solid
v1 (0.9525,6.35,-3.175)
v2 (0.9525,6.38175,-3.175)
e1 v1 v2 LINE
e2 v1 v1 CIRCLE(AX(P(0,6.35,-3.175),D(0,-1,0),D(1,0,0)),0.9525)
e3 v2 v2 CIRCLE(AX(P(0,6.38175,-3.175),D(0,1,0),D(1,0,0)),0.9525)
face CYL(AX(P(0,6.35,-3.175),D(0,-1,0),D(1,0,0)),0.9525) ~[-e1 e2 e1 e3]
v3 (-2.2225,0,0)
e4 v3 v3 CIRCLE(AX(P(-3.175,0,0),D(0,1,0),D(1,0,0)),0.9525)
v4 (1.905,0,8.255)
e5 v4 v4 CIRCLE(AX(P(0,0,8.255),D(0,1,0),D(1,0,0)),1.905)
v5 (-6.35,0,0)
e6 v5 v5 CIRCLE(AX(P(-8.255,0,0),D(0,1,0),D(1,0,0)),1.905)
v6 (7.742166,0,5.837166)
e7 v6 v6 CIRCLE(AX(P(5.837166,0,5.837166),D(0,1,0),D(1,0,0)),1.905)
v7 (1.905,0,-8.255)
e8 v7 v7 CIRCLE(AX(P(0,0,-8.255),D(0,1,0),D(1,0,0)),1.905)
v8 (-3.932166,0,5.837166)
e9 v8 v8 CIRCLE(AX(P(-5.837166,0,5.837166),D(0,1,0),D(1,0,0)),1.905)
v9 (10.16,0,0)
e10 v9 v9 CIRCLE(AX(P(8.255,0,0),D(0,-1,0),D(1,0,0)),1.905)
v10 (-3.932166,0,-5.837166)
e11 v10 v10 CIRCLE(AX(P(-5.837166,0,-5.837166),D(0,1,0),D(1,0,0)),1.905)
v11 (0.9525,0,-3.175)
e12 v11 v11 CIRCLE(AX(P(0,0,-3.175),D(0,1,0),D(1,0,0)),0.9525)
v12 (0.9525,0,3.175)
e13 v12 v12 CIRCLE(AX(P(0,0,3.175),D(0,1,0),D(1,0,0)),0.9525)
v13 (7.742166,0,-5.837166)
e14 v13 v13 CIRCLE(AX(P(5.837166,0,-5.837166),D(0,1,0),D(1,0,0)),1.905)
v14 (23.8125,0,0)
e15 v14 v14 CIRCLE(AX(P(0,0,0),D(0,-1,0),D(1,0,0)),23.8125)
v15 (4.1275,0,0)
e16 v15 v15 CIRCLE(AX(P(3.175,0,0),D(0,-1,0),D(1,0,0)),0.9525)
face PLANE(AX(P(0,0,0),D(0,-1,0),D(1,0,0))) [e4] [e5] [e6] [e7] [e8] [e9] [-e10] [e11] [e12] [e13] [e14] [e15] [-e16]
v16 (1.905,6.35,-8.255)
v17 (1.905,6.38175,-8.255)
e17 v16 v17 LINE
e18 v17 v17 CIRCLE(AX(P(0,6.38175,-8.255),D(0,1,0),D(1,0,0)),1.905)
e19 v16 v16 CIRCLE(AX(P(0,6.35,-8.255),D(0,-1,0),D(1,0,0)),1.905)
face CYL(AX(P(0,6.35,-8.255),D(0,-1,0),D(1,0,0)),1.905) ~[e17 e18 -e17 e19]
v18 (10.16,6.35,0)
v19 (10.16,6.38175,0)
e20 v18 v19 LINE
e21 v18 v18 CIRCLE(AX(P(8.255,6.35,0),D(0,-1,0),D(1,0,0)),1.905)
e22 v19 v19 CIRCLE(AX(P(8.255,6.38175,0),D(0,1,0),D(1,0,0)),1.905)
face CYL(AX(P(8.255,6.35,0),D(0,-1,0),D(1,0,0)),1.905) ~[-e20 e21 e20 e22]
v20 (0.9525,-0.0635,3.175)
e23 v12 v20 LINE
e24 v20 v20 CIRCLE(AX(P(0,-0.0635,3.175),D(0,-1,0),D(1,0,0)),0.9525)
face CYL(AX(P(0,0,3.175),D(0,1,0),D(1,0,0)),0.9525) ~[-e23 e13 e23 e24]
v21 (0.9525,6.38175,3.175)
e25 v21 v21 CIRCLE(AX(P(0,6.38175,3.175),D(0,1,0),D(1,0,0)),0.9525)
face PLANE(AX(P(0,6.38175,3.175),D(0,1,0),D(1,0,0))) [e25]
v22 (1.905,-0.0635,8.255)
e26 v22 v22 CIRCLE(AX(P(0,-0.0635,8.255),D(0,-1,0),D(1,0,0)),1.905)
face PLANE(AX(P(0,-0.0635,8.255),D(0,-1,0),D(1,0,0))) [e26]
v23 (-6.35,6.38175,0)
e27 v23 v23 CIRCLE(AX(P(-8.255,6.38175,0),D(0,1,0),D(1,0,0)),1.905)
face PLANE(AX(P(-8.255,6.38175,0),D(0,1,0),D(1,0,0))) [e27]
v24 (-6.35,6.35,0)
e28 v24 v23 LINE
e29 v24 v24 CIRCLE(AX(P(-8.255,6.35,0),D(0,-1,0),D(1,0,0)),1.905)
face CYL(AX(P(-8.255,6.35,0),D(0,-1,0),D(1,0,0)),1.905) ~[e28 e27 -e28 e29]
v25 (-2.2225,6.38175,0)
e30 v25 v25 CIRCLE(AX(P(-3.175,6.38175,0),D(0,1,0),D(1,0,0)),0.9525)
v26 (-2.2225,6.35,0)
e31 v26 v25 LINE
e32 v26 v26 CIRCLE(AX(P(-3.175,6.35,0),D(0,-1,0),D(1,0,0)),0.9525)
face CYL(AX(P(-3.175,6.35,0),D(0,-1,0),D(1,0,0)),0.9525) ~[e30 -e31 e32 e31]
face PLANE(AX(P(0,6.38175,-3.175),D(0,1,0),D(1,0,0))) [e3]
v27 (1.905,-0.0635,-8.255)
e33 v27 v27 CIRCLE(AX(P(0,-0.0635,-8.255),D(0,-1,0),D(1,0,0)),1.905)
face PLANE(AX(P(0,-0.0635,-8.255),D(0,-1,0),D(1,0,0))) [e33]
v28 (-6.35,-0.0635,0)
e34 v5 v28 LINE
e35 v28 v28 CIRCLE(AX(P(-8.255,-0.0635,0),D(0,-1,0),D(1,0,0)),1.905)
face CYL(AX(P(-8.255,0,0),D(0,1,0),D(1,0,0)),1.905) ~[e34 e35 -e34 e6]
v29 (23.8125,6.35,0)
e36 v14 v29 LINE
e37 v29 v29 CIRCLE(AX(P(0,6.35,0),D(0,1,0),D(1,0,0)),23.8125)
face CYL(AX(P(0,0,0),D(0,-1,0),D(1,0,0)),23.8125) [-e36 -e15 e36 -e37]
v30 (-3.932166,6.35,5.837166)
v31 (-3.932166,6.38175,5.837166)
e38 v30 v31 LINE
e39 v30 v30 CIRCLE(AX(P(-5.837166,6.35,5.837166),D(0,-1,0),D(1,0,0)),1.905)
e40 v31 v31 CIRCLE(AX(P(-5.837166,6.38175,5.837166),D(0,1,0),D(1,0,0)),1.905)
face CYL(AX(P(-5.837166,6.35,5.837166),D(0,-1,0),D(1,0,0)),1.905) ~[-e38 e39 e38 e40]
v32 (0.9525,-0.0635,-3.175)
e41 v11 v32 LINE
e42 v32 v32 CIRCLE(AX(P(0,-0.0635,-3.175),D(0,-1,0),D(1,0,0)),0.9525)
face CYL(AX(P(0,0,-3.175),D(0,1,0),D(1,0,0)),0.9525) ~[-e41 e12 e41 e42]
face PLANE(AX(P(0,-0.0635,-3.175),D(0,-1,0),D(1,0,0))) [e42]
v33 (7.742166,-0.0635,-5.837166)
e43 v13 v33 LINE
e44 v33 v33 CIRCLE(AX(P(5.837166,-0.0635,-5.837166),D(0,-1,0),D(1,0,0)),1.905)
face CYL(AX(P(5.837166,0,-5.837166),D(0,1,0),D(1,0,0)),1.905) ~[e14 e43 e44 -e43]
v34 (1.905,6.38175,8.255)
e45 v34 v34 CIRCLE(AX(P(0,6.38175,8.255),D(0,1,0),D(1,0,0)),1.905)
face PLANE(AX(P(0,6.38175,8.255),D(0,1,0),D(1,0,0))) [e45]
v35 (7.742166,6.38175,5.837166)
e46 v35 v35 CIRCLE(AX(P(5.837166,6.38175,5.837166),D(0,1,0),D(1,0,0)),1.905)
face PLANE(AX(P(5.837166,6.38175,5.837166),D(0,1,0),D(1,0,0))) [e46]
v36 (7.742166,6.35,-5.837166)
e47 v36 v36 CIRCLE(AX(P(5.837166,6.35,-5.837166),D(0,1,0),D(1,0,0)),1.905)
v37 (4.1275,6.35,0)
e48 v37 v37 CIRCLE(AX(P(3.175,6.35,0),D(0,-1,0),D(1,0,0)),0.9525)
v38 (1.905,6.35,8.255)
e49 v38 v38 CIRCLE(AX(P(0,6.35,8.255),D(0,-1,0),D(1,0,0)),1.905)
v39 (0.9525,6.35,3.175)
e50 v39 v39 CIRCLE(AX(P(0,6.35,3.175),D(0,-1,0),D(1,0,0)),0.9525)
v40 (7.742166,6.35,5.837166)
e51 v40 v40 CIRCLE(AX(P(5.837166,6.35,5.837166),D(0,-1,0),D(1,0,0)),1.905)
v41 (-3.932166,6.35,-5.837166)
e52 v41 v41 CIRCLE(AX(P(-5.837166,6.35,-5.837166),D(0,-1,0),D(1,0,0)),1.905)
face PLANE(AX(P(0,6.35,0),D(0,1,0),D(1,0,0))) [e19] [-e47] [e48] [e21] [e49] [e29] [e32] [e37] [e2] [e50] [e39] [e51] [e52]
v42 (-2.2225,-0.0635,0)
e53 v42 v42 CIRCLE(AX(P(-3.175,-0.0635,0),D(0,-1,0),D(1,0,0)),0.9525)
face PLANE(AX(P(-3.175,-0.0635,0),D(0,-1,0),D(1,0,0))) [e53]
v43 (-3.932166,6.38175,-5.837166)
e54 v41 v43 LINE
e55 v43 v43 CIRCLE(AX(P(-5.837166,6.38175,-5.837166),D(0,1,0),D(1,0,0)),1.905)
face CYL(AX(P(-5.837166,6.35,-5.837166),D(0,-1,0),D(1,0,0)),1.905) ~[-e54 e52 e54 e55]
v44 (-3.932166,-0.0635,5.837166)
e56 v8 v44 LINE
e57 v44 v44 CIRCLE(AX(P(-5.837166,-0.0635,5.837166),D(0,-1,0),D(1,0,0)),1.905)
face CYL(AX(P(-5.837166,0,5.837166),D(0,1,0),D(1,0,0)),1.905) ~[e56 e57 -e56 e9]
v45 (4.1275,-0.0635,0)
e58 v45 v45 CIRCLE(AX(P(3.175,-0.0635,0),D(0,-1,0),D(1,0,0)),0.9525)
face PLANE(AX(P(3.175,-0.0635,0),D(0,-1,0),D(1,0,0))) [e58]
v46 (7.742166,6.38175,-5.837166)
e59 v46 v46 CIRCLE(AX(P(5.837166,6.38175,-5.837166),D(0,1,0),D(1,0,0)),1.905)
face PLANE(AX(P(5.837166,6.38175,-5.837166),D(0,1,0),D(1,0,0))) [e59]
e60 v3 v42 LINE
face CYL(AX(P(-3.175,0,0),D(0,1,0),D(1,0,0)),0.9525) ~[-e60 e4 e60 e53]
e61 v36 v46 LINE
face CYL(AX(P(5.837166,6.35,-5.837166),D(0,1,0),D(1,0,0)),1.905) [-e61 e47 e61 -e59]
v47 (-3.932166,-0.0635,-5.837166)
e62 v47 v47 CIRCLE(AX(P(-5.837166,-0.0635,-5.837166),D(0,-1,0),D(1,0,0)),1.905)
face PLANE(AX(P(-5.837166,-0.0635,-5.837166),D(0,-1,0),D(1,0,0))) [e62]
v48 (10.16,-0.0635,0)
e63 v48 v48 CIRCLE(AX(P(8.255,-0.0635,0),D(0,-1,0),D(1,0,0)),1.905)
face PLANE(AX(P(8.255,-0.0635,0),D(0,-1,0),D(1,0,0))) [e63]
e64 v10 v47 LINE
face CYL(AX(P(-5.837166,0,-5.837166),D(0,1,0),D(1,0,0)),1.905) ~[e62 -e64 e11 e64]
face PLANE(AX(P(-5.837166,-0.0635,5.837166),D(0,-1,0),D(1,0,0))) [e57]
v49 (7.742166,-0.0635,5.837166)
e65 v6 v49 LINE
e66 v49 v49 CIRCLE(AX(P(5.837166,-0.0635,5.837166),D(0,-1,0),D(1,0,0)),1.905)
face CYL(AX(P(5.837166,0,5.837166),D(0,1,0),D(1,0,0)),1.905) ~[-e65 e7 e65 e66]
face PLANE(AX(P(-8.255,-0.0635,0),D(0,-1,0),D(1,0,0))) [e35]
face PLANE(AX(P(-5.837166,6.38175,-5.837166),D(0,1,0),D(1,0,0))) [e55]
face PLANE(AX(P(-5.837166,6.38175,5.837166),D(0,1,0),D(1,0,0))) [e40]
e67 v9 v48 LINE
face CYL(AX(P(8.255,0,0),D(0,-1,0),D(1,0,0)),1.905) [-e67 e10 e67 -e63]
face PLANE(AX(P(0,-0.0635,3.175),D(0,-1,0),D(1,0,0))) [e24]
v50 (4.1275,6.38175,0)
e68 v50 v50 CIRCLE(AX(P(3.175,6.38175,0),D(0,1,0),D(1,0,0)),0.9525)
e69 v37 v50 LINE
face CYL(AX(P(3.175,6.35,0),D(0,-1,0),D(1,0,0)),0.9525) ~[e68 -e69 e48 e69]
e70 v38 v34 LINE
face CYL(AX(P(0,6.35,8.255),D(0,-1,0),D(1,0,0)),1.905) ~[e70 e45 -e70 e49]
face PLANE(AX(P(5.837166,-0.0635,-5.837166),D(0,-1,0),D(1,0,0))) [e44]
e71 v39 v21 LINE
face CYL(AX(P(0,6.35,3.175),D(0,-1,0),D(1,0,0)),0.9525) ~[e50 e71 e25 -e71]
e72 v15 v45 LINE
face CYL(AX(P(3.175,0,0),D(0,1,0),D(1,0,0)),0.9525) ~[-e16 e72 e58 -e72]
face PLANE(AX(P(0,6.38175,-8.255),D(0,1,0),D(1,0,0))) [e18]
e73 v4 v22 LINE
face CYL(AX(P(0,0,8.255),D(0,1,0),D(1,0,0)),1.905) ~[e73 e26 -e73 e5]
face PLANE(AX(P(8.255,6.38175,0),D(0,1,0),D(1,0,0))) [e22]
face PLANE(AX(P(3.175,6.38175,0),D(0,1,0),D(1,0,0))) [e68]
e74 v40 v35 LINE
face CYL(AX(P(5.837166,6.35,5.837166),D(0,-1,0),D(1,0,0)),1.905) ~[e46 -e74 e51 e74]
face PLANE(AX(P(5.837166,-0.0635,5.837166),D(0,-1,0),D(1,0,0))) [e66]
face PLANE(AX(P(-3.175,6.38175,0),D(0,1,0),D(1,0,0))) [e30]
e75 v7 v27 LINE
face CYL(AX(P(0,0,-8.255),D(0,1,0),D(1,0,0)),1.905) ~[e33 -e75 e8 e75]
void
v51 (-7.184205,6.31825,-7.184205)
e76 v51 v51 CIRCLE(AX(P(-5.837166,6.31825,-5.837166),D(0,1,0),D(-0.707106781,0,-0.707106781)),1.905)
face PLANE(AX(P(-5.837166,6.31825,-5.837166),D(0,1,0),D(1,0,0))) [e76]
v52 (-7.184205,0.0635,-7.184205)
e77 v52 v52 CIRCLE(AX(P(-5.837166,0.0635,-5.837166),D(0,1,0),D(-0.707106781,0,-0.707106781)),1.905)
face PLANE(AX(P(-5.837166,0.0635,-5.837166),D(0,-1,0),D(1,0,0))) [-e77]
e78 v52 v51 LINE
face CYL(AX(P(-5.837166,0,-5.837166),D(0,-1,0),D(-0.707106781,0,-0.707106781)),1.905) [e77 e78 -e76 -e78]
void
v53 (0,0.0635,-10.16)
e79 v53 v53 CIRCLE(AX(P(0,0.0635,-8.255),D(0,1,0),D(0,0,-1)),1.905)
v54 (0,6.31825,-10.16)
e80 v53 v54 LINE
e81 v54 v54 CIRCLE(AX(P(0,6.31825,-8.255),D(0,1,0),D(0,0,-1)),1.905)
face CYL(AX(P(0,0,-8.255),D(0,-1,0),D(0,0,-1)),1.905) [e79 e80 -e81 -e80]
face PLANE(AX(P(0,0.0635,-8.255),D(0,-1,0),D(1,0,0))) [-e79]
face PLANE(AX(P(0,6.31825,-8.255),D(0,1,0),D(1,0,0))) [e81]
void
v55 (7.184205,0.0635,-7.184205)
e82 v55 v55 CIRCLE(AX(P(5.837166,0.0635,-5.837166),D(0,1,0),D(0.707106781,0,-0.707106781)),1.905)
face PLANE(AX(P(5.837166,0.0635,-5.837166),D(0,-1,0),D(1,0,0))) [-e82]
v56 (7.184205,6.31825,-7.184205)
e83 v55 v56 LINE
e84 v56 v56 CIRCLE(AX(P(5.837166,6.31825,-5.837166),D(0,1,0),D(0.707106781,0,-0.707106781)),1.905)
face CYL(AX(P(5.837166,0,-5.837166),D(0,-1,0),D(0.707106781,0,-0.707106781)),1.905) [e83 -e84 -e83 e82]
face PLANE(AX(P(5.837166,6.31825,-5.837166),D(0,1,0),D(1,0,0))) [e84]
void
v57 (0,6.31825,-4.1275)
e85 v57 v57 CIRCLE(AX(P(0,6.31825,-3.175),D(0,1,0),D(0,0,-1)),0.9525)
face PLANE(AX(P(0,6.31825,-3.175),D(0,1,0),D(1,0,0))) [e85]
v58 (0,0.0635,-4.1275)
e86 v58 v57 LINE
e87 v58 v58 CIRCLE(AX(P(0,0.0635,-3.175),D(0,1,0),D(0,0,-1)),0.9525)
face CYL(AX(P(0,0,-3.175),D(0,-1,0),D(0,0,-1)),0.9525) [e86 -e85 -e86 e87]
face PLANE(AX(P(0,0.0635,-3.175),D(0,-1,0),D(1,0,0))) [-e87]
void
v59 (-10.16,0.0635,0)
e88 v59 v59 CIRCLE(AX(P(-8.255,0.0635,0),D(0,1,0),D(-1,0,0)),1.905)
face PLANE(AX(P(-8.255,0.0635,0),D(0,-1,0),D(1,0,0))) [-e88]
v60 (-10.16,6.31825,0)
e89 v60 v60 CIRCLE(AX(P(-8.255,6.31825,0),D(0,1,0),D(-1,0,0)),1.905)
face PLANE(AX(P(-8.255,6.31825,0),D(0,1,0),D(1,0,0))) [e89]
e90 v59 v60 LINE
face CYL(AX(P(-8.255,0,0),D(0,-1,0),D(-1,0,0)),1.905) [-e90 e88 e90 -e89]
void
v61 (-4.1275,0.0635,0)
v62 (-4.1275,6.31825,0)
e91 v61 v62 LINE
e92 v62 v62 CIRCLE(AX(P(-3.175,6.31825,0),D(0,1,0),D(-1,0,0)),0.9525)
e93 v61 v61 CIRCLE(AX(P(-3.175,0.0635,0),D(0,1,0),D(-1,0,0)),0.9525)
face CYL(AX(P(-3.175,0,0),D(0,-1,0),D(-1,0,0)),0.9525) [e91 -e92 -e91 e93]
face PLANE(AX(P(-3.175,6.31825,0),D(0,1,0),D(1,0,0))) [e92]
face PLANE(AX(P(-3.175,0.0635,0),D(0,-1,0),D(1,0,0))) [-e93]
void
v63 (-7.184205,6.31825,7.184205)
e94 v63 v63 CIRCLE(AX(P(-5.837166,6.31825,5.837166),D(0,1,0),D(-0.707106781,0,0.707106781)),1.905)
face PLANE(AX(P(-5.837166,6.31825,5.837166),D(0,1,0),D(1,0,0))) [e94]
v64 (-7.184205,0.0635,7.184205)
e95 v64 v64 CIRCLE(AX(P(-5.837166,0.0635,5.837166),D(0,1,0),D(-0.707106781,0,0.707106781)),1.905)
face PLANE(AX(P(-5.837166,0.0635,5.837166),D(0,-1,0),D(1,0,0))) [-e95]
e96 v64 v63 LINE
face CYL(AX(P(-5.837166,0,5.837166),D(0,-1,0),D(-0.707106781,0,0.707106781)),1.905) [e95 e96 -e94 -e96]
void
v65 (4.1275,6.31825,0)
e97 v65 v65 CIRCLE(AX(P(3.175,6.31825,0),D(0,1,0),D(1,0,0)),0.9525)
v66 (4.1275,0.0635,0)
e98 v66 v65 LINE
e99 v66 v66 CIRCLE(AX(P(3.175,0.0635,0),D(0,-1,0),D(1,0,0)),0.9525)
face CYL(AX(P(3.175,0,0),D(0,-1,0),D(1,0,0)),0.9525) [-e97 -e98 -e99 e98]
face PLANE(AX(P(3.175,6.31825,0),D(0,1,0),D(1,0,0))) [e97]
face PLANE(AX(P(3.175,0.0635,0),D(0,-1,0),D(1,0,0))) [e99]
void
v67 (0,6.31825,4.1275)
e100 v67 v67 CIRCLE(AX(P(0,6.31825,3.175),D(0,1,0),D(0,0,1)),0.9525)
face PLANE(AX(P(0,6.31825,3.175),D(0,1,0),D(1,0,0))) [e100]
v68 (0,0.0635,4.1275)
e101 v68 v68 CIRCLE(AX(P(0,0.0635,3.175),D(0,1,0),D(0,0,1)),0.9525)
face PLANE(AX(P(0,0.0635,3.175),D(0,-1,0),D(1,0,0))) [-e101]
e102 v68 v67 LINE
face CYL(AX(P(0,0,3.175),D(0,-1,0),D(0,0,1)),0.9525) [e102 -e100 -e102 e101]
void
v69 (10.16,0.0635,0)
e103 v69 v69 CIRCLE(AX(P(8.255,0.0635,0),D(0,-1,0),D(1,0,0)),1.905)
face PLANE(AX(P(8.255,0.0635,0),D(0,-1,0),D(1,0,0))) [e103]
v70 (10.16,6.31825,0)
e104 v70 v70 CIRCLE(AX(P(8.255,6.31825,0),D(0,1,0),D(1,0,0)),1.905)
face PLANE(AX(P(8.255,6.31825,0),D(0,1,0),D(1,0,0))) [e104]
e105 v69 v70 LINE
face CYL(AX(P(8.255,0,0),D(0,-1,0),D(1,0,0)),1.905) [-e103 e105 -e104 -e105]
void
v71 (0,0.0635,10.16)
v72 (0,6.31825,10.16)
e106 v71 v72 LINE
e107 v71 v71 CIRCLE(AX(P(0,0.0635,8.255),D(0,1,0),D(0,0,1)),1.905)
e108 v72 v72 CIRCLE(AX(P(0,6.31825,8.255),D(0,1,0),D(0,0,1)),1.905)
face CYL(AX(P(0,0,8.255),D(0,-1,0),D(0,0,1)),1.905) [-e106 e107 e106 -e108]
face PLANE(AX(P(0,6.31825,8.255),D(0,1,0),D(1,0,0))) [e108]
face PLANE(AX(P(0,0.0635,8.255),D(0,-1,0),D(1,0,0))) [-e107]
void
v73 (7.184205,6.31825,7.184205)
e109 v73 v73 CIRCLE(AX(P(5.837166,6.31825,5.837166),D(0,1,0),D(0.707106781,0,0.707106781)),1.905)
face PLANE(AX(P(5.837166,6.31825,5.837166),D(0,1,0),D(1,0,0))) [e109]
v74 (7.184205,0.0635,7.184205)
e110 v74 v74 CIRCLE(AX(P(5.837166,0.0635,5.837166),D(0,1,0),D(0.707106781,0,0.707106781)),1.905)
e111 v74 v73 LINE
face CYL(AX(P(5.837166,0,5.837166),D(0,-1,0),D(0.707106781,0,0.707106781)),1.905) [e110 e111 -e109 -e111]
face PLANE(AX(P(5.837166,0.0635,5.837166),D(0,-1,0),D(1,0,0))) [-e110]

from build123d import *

# Parameters (mm, degrees)
SKETCH1_R           = 50.8
BOSS_EXTRUDE1_DEPTH = 25.4
SKETCH2_R           = 69.85
SKETCH2_R_2         = 50.8
BOSS_EXTRUDE2_DEPTH = 12.7
SKETCH3_R           = 49.53
SKETCH3_R_2         = 47.625
CUT_EXTRUDE1_DEPTH  = 1.1176
CUT_EXTRUDE2_REACH  = 103.996
SKETCH4_R           = 3.175
SKETCH5_R           = 11.43
CUT_EXTRUDE3_DEPTH  = 19.05
SKETCH42_OUTSIDE_W  = 181.538
SKETCH42_OUTSIDE_H  = 181.538
SKETCH42_OUTSIDE_R  = 23.8125
CUT_EXTRUDE9_DEPTH  = 30.48
SKETCH43_R          = 20.6375
CUT_EXTRUDE10_DEPTH = 19.05
CUT_EXTRUDE11_START = -19.05
SKETCH52_R          = 23.8125
CUT_EXTRUDE11_DEPTH = 19.05
SKETCH55_R          = 1.905
CUT_EXTRUDE12_DEPTH = 7.62
CIRPATTERN1_COUNT   = 8
SKETCH58_R          = 0.9525
CUT_EXTRUDE14_DEPTH = 7.62
CIRPATTERN2_COUNT   = 4
SKETCH59_R          = 0.9525
SKETCH59_R_2        = 1.905
INLET_LID_DEPTH     = 0.03175
SKETCH60_R          = 0.9525
SKETCH60_R_2        = 1.905
OUTLET_LID_DEPTH    = 0.0635


with BuildPart() as part:
    # Sketch1 → Boss-Extrude1 (new body)
    with BuildSketch(Plane(origin=(0, 0, 0), x_dir=(1, 0, 0), z_dir=(0, 1, 0))):
        Circle(SKETCH1_R)
    extrude(amount=BOSS_EXTRUDE1_DEPTH)

    # Sketch2 → Boss-Extrude2 (add)
    with BuildSketch(Plane.XZ):
        Circle(SKETCH2_R)
        Circle(SKETCH2_R_2, mode=Mode.SUBTRACT)
    extrude(amount=-BOSS_EXTRUDE2_DEPTH)

    # Sketch3 → Cut-Extrude1 (cut)
    with BuildSketch(Plane.XZ):
        Circle(SKETCH3_R)
        Circle(SKETCH3_R_2, mode=Mode.SUBTRACT)
    extrude(amount=-CUT_EXTRUDE1_DEPTH, mode=Mode.SUBTRACT)

    # Sketch4 → Cut-Extrude2 (cut, up to next)
    with BuildSketch(Plane.XZ, mode=Mode.PRIVATE) as cut_extrude2_sk1:
        with Locations((0, -59.9186)):
            Circle(SKETCH4_R)
    cut_extrude2_tool1 = extrude(cut_extrude2_sk1.sketch, amount=-CUT_EXTRUDE2_REACH, mode=Mode.PRIVATE) & part.part
    # Sketch4 → Cut-Extrude2 (cut, up to next)
    with BuildSketch(Plane.XZ, mode=Mode.PRIVATE) as cut_extrude2_sk2:
        with Locations((-42.368848379, -42.368848379)):
            Circle(SKETCH4_R)
    cut_extrude2_tool2 = extrude(cut_extrude2_sk2.sketch, amount=-CUT_EXTRUDE2_REACH, mode=Mode.PRIVATE) & part.part
    # Sketch4 → Cut-Extrude2 (cut, up to next)
    with BuildSketch(Plane.XZ, mode=Mode.PRIVATE) as cut_extrude2_sk3:
        with Locations((-59.9186, 0)):
            Circle(SKETCH4_R)
    cut_extrude2_tool3 = extrude(cut_extrude2_sk3.sketch, amount=-CUT_EXTRUDE2_REACH, mode=Mode.PRIVATE) & part.part
    # Sketch4 → Cut-Extrude2 (cut, up to next)
    with BuildSketch(Plane.XZ, mode=Mode.PRIVATE) as cut_extrude2_sk4:
        with Locations((-42.368848379, 42.368848379)):
            Circle(SKETCH4_R)
    cut_extrude2_tool4 = extrude(cut_extrude2_sk4.sketch, amount=-CUT_EXTRUDE2_REACH, mode=Mode.PRIVATE) & part.part
    # Sketch4 → Cut-Extrude2 (cut, up to next)
    with BuildSketch(Plane.XZ, mode=Mode.PRIVATE) as cut_extrude2_sk5:
        with Locations((0, 59.9186)):
            Circle(SKETCH4_R)
    cut_extrude2_tool5 = extrude(cut_extrude2_sk5.sketch, amount=-CUT_EXTRUDE2_REACH, mode=Mode.PRIVATE) & part.part
    # Sketch4 → Cut-Extrude2 (cut, up to next)
    with BuildSketch(Plane.XZ, mode=Mode.PRIVATE) as cut_extrude2_sk6:
        with Locations((42.368848379, 42.368848379)):
            Circle(SKETCH4_R)
    cut_extrude2_tool6 = extrude(cut_extrude2_sk6.sketch, amount=-CUT_EXTRUDE2_REACH, mode=Mode.PRIVATE) & part.part
    # Sketch4 → Cut-Extrude2 (cut, up to next)
    with BuildSketch(Plane.XZ, mode=Mode.PRIVATE) as cut_extrude2_sk7:
        with Locations((59.9186, 0)):
            Circle(SKETCH4_R)
    cut_extrude2_tool7 = extrude(cut_extrude2_sk7.sketch, amount=-CUT_EXTRUDE2_REACH, mode=Mode.PRIVATE) & part.part
    # Sketch4 → Cut-Extrude2 (cut, up to next)
    with BuildSketch(Plane.XZ, mode=Mode.PRIVATE) as cut_extrude2_sk8:
        with Locations((42.368848379, -42.368848379)):
            Circle(SKETCH4_R)
    cut_extrude2_tool8 = extrude(cut_extrude2_sk8.sketch, amount=-CUT_EXTRUDE2_REACH, mode=Mode.PRIVATE) & part.part
    add(cut_extrude2_tool1.solids().sort_by_distance((0, 0, -59.9186))[0], mode=Mode.SUBTRACT)
    add(cut_extrude2_tool2.solids().sort_by_distance((-42.368848, 0, -42.368848))[0], mode=Mode.SUBTRACT)
    add(cut_extrude2_tool3.solids().sort_by_distance((-59.9186, 0, 0))[0], mode=Mode.SUBTRACT)
    add(cut_extrude2_tool4.solids().sort_by_distance((-42.368848, 0, 42.368848))[0], mode=Mode.SUBTRACT)
    add(cut_extrude2_tool5.solids().sort_by_distance((0, 0, 59.9186))[0], mode=Mode.SUBTRACT)
    add(cut_extrude2_tool6.solids().sort_by_distance((42.368848, 0, 42.368848))[0], mode=Mode.SUBTRACT)
    add(cut_extrude2_tool7.solids().sort_by_distance((59.9186, 0, 0))[0], mode=Mode.SUBTRACT)
    add(cut_extrude2_tool8.solids().sort_by_distance((42.368848, 0, -42.368848))[0], mode=Mode.SUBTRACT)

    # Sketch5 → Cut-Extrude3 (cut)
    with BuildSketch(Plane(origin=(0, 25.4, 0), x_dir=(1, 0, 0), z_dir=(0, 1, 0))):
        Circle(SKETCH5_R)
    extrude(amount=-CUT_EXTRUDE3_DEPTH, mode=Mode.SUBTRACT)

    # Sketch42 outside → Cut-Extrude9 (cut)
    with BuildSketch(Plane.XZ):
        Rectangle(SKETCH42_OUTSIDE_W, SKETCH42_OUTSIDE_H)
        Circle(SKETCH42_OUTSIDE_R, mode=Mode.SUBTRACT)
    extrude(amount=-CUT_EXTRUDE9_DEPTH, mode=Mode.SUBTRACT)

    # Sketch43 → Cut-Extrude10 (cut)
    with BuildSketch(Plane(origin=(0, 25.4, 0), x_dir=(1, 0, 0), z_dir=(0, 1, 0))):
        Circle(SKETCH43_R)
    extrude(amount=-CUT_EXTRUDE10_DEPTH, mode=Mode.SUBTRACT)

    # Sketch52 → Cut-Extrude11 (cut)
    with BuildSketch(Plane(origin=(0, 25.4, 0), x_dir=(1, 0, 0), z_dir=(0, 1, 0)).offset(CUT_EXTRUDE11_START)):
        Circle(SKETCH52_R)
    extrude(amount=CUT_EXTRUDE11_DEPTH, mode=Mode.SUBTRACT)

    # Sketch55 → Cut-Extrude12 (cut)
    with BuildSketch(Plane.XZ):
        with Locations((8.255, 0)):
            Circle(SKETCH55_R)
    cut_extrude12 = extrude(amount=-CUT_EXTRUDE12_DEPTH, mode=Mode.SUBTRACT)

    # CirPattern1: Cut-Extrude12 ×8 about axis
    cirpattern1_axis = Axis((0, 0, 0), (0, -1, 0))
    for i in range(1, CIRPATTERN1_COUNT):
        add(cut_extrude12.rotate(cirpattern1_axis, i * 360 / CIRPATTERN1_COUNT), mode=Mode.SUBTRACT)

    # Sketch58 → Cut-Extrude14 (cut)
    with BuildSketch(Plane.XZ):
        with Locations((3.175, 0)):
            Circle(SKETCH58_R)
    cut_extrude14 = extrude(amount=-CUT_EXTRUDE14_DEPTH, mode=Mode.SUBTRACT)

    # CirPattern2: Cut-Extrude14 ×4 about axis
    cirpattern2_axis = Axis((0, 0, 0), (0, -1, 0))
    for i in range(1, CIRPATTERN2_COUNT):
        add(cut_extrude14.rotate(cirpattern2_axis, i * 360 / CIRPATTERN2_COUNT), mode=Mode.SUBTRACT)

    # Sketch59 → Inlet Lid (add, symmetric)
    with BuildSketch(Plane(origin=(0, 6.35, 0), x_dir=(1, 0, 0), z_dir=(0, 1, 0))):
        with Locations((0, -3.175)):
            Circle(SKETCH59_R)
        with Locations((-3.175, 0)):
            Circle(SKETCH59_R)
        with Locations((0, 3.175)):
            Circle(SKETCH59_R)
        with Locations((3.175, 0)):
            Circle(SKETCH59_R)
        with Locations((0, 8.255)):
            Circle(SKETCH59_R_2)
        with Locations((-5.837166479, 5.837166479)):
            Circle(SKETCH59_R_2)
        with Locations((-8.255, 0)):
            Circle(SKETCH59_R_2)
        with Locations((-5.837166479, -5.837166479)):
            Circle(SKETCH59_R_2)
        with Locations((0, -8.255)):
            Circle(SKETCH59_R_2)
        with Locations((5.837166479, -5.837166479)):
            Circle(SKETCH59_R_2)
        with Locations((8.255, 0)):
            Circle(SKETCH59_R_2)
        with Locations((5.837166479, 5.837166479)):
            Circle(SKETCH59_R_2)
    extrude(amount=INLET_LID_DEPTH, both=True)

    # Sketch60 → Outlet Lid (add, symmetric)
    with BuildSketch(Plane.XZ):
        with Locations((0, 3.175)):
            Circle(SKETCH60_R)
        with Locations((-3.175, 0)):
            Circle(SKETCH60_R)
        with Locations((0, -3.175)):
            Circle(SKETCH60_R)
        with Locations((3.175, 0)):
            Circle(SKETCH60_R)
        with Locations((5.837166479, 5.837166479)):
            Circle(SKETCH60_R_2)
        with Locations((0, 8.255)):
            Circle(SKETCH60_R_2)
        with Locations((-5.837166479, 5.837166479)):
            Circle(SKETCH60_R_2)
        with Locations((-8.255, 0)):
            Circle(SKETCH60_R_2)
        with Locations((-5.837166479, -5.837166479)):
            Circle(SKETCH60_R_2)
        with Locations((0, -8.255)):
            Circle(SKETCH60_R_2)
        with Locations((5.837166479, -5.837166479)):
            Circle(SKETCH60_R_2)
        with Locations((8.255, 0)):
            Circle(SKETCH60_R_2)
    extrude(amount=OUTLET_LID_DEPTH, both=True)


solid = part.part
